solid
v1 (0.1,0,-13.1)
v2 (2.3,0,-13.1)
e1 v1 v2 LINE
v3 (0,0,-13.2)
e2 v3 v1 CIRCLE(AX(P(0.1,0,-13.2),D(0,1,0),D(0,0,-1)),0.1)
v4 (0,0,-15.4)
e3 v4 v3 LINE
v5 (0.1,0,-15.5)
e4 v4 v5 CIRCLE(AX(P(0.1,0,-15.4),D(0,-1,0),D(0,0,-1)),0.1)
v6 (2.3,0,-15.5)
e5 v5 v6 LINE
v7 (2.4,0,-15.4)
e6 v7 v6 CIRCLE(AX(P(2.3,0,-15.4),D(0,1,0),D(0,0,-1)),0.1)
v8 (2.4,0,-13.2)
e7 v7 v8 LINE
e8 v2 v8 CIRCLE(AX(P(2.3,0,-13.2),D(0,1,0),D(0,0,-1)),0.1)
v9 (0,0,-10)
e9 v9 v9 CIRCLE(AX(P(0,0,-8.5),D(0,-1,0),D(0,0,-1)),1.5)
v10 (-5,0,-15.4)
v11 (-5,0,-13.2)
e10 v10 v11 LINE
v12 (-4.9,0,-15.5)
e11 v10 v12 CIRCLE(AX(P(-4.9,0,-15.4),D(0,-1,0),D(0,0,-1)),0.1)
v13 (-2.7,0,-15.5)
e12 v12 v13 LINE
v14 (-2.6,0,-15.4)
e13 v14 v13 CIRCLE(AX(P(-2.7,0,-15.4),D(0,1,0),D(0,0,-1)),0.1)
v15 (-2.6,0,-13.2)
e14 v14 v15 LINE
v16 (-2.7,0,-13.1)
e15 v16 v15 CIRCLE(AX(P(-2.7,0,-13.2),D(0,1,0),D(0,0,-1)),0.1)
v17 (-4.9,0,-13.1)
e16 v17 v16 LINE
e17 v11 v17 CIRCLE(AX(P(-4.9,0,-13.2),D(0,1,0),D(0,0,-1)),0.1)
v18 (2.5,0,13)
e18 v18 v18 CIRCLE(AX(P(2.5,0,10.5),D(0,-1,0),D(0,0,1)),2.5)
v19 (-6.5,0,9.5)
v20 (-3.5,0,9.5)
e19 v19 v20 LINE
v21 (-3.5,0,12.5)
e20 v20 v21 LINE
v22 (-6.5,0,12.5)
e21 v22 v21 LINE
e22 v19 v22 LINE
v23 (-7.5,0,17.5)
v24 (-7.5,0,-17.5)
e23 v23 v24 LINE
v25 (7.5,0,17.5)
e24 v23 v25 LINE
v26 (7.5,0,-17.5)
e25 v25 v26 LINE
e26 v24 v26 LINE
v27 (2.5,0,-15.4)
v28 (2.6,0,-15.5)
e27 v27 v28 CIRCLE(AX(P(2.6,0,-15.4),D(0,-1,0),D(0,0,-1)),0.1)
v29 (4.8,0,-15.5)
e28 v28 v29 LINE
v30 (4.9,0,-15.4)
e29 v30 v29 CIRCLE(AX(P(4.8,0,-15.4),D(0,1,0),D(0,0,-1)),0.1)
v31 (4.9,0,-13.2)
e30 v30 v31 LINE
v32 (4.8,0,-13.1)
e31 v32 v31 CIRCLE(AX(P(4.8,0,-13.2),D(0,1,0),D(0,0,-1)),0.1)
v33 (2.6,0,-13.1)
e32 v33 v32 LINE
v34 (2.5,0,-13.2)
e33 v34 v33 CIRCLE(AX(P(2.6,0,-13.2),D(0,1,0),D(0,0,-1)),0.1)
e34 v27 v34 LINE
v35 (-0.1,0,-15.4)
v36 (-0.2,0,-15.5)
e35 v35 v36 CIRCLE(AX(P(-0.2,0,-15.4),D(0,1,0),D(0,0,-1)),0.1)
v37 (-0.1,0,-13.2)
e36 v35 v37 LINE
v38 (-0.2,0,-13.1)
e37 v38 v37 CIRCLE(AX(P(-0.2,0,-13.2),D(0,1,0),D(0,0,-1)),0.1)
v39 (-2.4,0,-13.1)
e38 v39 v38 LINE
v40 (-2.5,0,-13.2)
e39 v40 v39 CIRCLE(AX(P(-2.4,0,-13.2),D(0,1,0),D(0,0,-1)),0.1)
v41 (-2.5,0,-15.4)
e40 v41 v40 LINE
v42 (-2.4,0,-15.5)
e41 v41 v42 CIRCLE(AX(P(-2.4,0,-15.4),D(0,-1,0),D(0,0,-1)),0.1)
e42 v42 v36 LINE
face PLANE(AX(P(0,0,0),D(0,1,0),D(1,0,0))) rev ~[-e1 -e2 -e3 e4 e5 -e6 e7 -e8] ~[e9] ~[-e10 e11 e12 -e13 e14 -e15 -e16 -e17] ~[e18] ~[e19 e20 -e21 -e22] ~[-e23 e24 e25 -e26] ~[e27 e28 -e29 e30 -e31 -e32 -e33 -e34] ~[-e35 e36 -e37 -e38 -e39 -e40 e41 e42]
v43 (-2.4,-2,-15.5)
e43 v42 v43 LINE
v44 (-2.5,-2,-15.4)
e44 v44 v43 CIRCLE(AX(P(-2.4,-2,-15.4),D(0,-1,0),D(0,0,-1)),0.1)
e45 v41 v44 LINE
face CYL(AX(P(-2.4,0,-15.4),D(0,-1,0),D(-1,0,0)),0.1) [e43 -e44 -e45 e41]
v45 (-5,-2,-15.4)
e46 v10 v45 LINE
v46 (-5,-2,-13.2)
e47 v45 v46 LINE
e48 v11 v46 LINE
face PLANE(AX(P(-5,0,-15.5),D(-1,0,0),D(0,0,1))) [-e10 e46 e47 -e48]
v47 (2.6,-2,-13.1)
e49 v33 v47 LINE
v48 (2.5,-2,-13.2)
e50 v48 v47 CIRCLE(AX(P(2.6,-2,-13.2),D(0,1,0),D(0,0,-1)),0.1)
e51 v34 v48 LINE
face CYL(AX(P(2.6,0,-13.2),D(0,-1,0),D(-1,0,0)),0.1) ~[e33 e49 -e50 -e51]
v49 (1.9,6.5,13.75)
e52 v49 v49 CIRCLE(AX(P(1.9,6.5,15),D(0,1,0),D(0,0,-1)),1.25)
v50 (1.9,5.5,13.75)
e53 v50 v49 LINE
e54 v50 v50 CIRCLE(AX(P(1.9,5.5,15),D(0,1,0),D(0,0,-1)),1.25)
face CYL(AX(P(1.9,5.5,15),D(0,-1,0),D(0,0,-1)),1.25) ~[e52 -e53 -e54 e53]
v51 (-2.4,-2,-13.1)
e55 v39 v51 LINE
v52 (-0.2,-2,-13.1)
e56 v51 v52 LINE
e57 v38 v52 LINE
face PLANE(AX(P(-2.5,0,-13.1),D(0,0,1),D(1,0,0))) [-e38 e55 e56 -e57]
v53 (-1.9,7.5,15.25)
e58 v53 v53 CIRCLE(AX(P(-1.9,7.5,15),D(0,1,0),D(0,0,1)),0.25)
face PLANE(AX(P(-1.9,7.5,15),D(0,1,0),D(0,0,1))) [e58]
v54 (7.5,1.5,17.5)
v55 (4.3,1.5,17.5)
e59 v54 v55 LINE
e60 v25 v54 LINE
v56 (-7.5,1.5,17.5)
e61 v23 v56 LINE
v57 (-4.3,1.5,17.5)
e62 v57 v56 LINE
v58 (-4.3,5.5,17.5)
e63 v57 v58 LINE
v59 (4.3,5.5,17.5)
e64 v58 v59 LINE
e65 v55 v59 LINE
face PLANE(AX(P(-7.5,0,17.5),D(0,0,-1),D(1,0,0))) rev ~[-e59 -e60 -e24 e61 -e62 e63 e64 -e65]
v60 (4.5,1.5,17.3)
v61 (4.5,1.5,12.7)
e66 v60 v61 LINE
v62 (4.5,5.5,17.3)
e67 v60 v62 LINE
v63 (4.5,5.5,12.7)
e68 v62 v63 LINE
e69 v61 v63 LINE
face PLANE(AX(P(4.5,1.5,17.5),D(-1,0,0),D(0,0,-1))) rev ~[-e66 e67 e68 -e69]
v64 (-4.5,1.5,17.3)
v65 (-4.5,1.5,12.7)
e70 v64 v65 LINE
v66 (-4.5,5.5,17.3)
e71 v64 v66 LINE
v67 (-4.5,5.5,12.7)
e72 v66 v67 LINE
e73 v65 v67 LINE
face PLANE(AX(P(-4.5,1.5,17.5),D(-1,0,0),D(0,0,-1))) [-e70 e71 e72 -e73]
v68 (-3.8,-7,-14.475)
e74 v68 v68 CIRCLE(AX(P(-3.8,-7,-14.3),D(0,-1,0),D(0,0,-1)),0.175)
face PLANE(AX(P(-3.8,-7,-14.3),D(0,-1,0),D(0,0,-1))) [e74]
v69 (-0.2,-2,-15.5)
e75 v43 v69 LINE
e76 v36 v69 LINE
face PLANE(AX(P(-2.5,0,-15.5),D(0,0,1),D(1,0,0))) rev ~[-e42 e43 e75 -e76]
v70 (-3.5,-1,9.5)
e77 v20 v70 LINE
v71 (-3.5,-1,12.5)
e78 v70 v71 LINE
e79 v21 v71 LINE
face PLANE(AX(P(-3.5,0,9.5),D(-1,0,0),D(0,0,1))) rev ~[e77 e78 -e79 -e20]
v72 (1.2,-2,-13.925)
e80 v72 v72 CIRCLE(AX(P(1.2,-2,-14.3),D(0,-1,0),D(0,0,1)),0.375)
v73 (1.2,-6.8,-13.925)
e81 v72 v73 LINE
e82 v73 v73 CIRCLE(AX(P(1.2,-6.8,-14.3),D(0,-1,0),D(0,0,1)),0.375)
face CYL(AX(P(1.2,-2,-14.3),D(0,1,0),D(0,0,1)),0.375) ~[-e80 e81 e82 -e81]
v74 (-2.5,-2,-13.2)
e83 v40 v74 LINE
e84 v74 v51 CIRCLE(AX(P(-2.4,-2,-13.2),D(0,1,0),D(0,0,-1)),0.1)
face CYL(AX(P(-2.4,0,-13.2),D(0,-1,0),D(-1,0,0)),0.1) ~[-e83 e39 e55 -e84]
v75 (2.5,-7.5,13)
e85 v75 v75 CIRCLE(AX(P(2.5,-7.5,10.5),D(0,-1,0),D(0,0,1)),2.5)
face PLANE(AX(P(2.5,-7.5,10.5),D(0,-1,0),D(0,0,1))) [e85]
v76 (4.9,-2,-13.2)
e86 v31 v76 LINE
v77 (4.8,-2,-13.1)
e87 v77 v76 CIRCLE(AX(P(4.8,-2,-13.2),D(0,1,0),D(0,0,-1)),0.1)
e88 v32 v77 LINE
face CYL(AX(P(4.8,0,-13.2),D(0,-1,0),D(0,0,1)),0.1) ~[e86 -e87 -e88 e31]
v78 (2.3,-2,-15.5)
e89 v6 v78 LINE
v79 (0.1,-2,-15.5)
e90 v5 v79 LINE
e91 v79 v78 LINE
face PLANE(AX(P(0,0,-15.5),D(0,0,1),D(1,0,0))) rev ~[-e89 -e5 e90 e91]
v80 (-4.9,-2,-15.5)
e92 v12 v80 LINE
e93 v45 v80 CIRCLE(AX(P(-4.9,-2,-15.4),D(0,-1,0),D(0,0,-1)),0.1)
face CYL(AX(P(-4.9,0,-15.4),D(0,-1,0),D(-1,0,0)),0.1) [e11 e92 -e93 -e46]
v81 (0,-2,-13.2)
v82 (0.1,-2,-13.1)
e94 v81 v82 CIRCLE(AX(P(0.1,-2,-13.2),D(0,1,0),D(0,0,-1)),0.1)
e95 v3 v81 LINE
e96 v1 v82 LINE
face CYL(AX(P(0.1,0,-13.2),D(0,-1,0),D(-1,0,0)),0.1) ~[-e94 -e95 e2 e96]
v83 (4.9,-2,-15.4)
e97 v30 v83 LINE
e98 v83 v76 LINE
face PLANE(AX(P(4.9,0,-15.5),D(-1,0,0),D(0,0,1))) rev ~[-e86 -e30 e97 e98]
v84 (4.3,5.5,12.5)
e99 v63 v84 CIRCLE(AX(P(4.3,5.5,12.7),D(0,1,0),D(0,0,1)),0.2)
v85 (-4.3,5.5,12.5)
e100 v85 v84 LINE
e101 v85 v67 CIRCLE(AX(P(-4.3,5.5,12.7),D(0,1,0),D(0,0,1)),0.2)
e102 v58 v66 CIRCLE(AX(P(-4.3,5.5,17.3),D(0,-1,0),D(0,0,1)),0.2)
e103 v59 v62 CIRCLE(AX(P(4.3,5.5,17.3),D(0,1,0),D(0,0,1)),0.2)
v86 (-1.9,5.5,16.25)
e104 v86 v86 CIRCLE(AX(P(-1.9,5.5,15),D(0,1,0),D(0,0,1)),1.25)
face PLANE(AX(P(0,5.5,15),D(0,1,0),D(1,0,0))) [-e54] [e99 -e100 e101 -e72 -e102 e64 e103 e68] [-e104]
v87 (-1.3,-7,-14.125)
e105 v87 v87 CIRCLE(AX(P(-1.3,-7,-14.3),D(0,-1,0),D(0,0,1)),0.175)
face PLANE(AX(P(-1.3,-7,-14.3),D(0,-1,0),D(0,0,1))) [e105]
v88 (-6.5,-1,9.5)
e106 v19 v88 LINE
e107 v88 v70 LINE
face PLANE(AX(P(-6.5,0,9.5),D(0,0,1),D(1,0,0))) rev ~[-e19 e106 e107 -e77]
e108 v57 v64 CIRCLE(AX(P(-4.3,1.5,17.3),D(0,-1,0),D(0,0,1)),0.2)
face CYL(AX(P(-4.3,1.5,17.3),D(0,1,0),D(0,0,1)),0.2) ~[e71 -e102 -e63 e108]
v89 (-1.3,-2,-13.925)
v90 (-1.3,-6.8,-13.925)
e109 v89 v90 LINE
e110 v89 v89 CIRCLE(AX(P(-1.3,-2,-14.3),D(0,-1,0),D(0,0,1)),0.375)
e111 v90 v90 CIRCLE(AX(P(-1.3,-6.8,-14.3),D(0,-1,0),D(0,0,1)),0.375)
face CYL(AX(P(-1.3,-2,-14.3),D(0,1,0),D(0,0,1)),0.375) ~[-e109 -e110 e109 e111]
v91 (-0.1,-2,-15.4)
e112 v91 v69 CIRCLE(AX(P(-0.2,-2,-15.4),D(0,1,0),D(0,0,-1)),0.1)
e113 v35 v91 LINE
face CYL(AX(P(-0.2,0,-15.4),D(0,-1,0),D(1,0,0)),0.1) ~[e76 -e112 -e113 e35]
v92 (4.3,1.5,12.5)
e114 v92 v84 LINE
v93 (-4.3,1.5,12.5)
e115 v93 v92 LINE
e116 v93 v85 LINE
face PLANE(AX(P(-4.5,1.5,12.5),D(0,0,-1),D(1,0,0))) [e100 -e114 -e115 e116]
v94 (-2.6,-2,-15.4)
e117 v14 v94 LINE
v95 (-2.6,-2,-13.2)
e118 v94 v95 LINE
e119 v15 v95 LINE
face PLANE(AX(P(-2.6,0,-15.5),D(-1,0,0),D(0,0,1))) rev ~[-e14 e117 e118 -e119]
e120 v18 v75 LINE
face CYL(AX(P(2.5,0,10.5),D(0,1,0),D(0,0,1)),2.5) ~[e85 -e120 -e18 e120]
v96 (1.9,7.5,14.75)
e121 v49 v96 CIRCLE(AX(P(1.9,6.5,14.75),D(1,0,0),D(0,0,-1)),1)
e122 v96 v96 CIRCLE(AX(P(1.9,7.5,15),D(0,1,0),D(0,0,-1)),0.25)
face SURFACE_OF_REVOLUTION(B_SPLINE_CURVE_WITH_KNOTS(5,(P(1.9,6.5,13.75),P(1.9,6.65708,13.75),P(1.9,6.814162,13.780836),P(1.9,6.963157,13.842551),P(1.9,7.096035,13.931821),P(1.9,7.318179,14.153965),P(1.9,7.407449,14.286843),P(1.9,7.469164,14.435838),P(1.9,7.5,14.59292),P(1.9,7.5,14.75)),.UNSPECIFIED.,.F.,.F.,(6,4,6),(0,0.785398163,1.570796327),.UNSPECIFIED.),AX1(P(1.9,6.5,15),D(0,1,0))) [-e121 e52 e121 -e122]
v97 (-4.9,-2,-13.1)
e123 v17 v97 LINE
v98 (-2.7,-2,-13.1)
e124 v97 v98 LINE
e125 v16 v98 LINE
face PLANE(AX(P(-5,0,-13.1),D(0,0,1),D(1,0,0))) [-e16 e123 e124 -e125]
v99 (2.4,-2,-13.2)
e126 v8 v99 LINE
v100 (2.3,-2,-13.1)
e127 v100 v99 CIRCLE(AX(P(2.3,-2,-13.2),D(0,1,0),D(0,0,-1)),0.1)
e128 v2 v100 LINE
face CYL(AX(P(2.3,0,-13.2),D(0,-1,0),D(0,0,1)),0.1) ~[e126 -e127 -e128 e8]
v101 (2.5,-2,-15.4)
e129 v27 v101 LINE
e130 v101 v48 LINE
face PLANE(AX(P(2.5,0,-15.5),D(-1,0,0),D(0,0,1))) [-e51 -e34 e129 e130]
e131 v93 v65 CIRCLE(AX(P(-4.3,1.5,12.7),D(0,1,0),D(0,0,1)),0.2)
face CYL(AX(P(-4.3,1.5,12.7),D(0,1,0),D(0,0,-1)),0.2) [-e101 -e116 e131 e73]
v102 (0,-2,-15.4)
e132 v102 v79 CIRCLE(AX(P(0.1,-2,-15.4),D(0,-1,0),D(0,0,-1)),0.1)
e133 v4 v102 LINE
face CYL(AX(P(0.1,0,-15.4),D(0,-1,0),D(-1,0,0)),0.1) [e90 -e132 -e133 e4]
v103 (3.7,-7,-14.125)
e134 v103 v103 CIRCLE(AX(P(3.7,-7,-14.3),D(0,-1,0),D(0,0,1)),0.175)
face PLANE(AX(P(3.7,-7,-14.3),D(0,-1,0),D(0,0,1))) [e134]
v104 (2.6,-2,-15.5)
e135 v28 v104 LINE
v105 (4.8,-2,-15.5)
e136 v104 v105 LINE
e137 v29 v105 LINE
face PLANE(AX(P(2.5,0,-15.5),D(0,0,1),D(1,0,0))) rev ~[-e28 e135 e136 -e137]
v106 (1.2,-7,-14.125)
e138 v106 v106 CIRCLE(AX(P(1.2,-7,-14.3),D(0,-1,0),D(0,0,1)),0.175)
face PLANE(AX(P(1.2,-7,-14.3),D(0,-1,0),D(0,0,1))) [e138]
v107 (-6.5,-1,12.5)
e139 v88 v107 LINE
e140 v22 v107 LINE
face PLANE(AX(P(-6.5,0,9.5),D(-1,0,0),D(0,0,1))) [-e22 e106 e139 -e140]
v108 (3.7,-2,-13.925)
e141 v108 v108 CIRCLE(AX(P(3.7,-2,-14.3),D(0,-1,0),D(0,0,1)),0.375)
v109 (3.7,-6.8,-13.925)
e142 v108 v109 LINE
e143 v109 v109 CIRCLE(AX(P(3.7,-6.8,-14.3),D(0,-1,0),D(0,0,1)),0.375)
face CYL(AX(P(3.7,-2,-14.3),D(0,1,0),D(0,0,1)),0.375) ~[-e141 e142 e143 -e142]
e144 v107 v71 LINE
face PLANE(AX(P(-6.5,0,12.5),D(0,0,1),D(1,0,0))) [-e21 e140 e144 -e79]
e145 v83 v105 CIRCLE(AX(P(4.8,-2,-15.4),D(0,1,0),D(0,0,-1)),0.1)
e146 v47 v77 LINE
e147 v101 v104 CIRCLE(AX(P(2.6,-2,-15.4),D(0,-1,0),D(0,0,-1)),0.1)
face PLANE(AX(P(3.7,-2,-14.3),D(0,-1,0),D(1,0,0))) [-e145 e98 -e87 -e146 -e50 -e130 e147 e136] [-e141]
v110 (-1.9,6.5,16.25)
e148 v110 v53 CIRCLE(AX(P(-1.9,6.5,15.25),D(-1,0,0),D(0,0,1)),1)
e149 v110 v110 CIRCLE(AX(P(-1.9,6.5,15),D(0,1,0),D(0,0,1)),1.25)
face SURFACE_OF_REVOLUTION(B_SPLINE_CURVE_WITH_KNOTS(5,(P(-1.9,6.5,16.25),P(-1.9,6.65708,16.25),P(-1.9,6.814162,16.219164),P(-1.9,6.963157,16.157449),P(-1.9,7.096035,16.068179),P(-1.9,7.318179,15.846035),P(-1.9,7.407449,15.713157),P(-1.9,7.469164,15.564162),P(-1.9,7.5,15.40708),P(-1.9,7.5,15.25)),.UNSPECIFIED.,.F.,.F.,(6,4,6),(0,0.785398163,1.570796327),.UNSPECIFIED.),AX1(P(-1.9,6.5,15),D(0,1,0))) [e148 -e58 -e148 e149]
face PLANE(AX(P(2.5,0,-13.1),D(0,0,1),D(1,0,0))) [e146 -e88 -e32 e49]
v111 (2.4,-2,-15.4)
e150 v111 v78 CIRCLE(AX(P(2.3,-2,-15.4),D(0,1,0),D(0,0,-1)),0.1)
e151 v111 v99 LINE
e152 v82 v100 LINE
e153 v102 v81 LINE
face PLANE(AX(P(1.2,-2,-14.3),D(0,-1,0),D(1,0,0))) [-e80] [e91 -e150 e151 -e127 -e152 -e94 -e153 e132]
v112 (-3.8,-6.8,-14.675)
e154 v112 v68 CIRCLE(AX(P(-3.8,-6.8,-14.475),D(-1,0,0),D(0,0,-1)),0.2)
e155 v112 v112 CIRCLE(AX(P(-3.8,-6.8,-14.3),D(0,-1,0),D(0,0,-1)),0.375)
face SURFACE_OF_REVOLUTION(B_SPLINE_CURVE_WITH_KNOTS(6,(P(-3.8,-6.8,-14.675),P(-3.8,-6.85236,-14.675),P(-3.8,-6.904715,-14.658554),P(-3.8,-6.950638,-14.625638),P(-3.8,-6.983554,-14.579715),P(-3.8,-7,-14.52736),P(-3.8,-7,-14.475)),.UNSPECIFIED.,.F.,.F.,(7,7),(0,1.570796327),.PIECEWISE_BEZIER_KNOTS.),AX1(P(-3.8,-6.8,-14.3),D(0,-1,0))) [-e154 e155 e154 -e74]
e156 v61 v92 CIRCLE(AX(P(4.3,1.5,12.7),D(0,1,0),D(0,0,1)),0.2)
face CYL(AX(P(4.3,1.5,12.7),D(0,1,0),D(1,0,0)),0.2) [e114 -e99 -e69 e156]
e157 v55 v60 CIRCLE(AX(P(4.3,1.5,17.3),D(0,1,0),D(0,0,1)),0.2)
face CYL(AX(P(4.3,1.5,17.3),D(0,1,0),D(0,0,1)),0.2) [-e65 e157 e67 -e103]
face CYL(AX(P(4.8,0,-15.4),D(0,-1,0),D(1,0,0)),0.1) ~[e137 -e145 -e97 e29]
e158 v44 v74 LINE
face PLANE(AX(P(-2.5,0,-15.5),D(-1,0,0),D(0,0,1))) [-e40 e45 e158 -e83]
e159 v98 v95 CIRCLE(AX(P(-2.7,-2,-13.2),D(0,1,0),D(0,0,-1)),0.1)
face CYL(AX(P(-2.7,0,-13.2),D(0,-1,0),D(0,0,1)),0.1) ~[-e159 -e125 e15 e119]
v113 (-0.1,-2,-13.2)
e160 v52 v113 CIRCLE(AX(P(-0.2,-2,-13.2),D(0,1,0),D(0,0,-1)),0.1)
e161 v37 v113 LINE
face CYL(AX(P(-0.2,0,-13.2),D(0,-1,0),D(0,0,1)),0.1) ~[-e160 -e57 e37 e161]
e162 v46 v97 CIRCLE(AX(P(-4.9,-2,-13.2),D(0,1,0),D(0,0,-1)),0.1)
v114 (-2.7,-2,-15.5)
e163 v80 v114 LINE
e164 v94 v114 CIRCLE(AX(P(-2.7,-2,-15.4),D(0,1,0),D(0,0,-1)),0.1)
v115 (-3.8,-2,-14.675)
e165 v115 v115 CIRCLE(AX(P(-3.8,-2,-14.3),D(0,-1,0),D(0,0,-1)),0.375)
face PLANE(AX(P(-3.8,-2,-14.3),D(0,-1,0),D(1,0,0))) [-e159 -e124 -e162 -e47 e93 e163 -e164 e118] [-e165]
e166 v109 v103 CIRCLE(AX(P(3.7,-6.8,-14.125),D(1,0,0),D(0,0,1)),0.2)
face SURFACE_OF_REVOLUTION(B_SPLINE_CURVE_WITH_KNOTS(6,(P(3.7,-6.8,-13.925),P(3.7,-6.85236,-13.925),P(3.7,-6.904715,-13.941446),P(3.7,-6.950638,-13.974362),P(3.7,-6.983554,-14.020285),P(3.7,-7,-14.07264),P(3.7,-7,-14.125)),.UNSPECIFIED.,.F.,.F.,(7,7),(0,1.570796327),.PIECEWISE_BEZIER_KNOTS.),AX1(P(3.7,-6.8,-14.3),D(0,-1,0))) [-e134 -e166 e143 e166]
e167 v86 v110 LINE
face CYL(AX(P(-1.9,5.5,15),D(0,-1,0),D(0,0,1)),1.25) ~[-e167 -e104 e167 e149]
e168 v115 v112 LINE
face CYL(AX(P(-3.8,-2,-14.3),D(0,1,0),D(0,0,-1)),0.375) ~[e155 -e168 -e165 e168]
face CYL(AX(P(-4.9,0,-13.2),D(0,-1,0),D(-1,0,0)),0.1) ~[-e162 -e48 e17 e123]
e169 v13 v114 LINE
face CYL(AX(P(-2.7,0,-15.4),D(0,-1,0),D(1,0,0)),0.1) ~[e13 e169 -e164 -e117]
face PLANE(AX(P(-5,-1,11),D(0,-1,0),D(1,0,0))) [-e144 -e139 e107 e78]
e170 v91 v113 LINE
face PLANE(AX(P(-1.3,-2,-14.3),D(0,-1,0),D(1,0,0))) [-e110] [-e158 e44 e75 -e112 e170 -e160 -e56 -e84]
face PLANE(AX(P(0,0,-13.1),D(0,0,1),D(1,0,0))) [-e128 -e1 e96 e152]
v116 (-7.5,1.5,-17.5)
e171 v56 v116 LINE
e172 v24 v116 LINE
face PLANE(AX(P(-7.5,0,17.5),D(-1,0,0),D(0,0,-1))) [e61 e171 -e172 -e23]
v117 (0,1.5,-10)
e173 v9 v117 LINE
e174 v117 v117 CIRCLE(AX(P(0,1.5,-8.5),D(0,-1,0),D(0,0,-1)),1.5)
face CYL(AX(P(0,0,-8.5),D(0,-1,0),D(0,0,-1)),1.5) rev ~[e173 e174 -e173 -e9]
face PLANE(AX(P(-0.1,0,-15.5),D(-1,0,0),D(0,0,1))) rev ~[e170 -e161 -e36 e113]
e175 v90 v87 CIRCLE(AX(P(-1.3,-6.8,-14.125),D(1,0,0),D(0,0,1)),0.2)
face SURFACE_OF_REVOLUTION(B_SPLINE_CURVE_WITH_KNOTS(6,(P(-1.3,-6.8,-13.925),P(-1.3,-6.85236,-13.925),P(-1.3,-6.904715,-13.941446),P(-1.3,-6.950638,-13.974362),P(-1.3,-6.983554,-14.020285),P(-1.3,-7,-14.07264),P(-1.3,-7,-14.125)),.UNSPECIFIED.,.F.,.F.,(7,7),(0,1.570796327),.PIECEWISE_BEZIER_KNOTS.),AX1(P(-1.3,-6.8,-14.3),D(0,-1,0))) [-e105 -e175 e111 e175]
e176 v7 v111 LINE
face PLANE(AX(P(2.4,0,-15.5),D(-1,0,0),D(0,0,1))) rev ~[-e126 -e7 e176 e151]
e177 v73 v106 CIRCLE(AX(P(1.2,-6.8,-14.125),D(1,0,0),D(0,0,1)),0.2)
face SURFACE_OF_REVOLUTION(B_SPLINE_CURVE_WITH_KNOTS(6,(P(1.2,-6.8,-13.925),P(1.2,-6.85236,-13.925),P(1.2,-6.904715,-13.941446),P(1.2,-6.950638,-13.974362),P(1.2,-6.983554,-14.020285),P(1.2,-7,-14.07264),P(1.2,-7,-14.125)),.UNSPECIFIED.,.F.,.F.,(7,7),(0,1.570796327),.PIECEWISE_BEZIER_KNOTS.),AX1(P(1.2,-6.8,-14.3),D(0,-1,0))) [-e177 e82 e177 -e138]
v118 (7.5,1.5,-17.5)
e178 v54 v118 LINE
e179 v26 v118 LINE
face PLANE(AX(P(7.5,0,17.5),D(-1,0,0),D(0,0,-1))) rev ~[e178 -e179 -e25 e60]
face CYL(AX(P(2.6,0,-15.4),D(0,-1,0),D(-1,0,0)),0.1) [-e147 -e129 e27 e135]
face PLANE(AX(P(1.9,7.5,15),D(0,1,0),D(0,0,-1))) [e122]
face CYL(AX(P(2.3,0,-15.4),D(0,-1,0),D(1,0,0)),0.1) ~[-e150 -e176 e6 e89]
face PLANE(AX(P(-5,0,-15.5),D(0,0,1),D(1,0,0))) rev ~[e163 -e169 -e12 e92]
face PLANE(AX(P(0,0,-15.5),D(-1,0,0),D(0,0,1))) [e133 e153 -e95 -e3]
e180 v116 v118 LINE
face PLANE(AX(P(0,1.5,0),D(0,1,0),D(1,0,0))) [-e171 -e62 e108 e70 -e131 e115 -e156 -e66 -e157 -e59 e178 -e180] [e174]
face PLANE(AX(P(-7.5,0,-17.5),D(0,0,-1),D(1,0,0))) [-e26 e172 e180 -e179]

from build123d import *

# Parameters (mm, degrees)
SKETCH1_W           = 15
SKETCH1_H           = 35
BOSS_EXTRUDE1_DEPTH = 1.5
SKETCH2_W           = 9
SKETCH2_H           = 5
BOSS_EXTRUDE2_DEPTH = 4
FILLET1_R           = 0.2
SKETCH3_R           = 1.25
BOSS_EXTRUDE3_DEPTH = 2
FILLET2_R           = 1
SKETCH4_W           = 3
SKETCH4_H           = 3
BOSS_EXTRUDE4_DEPTH = 1
SKETCH5_R           = 2.5
BOSS_EXTRUDE5_DEPTH = 7.5
SKETCH6_W           = 2.4
SKETCH6_H           = 2.4
BOSS_EXTRUDE6_DEPTH = 2
FILLET3_R           = 0.1
SKETCH7_R           = 0.375
BOSS_EXTRUDE7_DEPTH = 5
FILLET4_R           = 0.2
SKETCH8_R           = 1.5
CUT_EXTRUDE1_DEPTH  = 21.46338193


with BuildPart() as part:
    # Sketch1 → Boss-Extrude1 (new body)
    with BuildSketch(Plane(origin=(0, 0, 0), x_dir=(1, 0, 0), z_dir=(0, 1, 0))):
        Rectangle(SKETCH1_W, SKETCH1_H)
    extrude(amount=BOSS_EXTRUDE1_DEPTH)

    # Sketch2 → Boss-Extrude2 (add)
    with BuildSketch(Plane(origin=(0, 1.5, 0), x_dir=(1, 0, 0), z_dir=(0, 1, 0))):
        with Locations((0, -15)):
            Rectangle(SKETCH2_W, SKETCH2_H)
    extrude(amount=BOSS_EXTRUDE2_DEPTH)

    # Fillet1
    fillet1_edges = [part.edges().sort_by_distance(p)[0] for p in [
        (4.5, 3.5, 17.5),
        (4.5, 3.5, 12.5),
        (-4.5, 3.5, 17.5),
        (-4.5, 3.5, 12.5),
    ]]
    fillet(fillet1_edges, radius=FILLET1_R)

    # Sketch3 → Boss-Extrude3 (add)
    with BuildSketch(Plane(origin=(0, 5.5, 0), x_dir=(1, 0, 0), z_dir=(0, 1, 0))):
        with Locations(Location((-1.9, -15, 0), (0, 0, 270))):
            Circle(SKETCH3_R)
        with Locations(Location((1.9, -15, 0), (0, 0, 90))):
            Circle(SKETCH3_R)
    extrude(amount=BOSS_EXTRUDE3_DEPTH)

    # Fillet2
    fillet2_edges = [part.edges().sort_by_distance(p)[0] for p in [
        (-1.9, 7.5, 13.75),
        (1.9, 7.5, 16.25),
    ]]
    fillet(fillet2_edges, radius=FILLET2_R)

    # Sketch4 → Boss-Extrude4 (add)
    with BuildSketch(Plane.XZ):
        with Locations((-5, 11)):
            Rectangle(SKETCH4_W, SKETCH4_H)
    extrude(amount=BOSS_EXTRUDE4_DEPTH)

    # Sketch5 → Boss-Extrude5 (add)
    with BuildSketch(Plane.XZ):
        with Locations(Location((2.5, 10.5, 0), (0, 0, 90))):
            Circle(SKETCH5_R)
    extrude(amount=BOSS_EXTRUDE5_DEPTH)

    # Sketch6 → Boss-Extrude6 (add)
    with BuildSketch(Plane.XZ):
        with Locations((-3.8, -14.3)):
            Rectangle(SKETCH6_W, SKETCH6_H)
        with Locations((-1.3, -14.3)):
            Rectangle(SKETCH6_W, SKETCH6_H)
        with Locations((1.2, -14.3)):
            Rectangle(SKETCH6_W, SKETCH6_H)
        with Locations((3.7, -14.3)):
            Rectangle(SKETCH6_W, SKETCH6_H)
    extrude(amount=BOSS_EXTRUDE6_DEPTH)

    # Fillet3
    fillet3_edges = [part.edges().sort_by_distance(p)[0] for p in [
        (-2.5, -1, -15.5),
        (-0.1, -1, -15.5),
        (-0.1, -1, -13.1),
        (-2.5, -1, -13.1),
        (0, -1, -15.5),
        (2.4, -1, -15.5),
        (2.4, -1, -13.1),
        (0, -1, -13.1),
        (2.5, -1, -15.5),
        (4.9, -1, -15.5),
        (4.9, -1, -13.1),
        (2.5, -1, -13.1),
        (-2.6, -1, -15.5),
        (-2.6, -1, -13.1),
        (-5, -1, -13.1),
        (-5, -1, -15.5),
    ]]
    fillet(fillet3_edges, radius=FILLET3_R)

    # Sketch7 → Boss-Extrude7 (add)
    with BuildSketch(Plane.XZ.offset(2)):
        with Locations(Location((-3.8, -14.3, 0), (0, 0, 270))):
            Circle(SKETCH7_R)
        with Locations(Location((-1.3, -14.3, 0), (0, 0, 90))):
            Circle(SKETCH7_R)
        with Locations(Location((1.2, -14.3, 0), (0, 0, 90))):
            Circle(SKETCH7_R)
        with Locations(Location((3.7, -14.3, 0), (0, 0, 90))):
            Circle(SKETCH7_R)
    extrude(amount=BOSS_EXTRUDE7_DEPTH)

    # Fillet4
    fillet4_edges = [part.edges().sort_by_distance(p)[0] for p in [
        (-3.8, -7, -13.925),
        (-1.3, -7, -14.675),
        (1.2, -7, -14.675),
        (3.7, -7, -14.675),
    ]]
    fillet(fillet4_edges, radius=FILLET4_R)

    # Sketch8 → Cut-Extrude1 (cut, through all)
    with BuildSketch(Plane.XZ):
        with Locations(Location((0, -8.5, 0), (0, 0, 270))):
            Circle(SKETCH8_R)
    extrude(amount=-CUT_EXTRUDE1_DEPTH, mode=Mode.SUBTRACT)


solid = part.part
